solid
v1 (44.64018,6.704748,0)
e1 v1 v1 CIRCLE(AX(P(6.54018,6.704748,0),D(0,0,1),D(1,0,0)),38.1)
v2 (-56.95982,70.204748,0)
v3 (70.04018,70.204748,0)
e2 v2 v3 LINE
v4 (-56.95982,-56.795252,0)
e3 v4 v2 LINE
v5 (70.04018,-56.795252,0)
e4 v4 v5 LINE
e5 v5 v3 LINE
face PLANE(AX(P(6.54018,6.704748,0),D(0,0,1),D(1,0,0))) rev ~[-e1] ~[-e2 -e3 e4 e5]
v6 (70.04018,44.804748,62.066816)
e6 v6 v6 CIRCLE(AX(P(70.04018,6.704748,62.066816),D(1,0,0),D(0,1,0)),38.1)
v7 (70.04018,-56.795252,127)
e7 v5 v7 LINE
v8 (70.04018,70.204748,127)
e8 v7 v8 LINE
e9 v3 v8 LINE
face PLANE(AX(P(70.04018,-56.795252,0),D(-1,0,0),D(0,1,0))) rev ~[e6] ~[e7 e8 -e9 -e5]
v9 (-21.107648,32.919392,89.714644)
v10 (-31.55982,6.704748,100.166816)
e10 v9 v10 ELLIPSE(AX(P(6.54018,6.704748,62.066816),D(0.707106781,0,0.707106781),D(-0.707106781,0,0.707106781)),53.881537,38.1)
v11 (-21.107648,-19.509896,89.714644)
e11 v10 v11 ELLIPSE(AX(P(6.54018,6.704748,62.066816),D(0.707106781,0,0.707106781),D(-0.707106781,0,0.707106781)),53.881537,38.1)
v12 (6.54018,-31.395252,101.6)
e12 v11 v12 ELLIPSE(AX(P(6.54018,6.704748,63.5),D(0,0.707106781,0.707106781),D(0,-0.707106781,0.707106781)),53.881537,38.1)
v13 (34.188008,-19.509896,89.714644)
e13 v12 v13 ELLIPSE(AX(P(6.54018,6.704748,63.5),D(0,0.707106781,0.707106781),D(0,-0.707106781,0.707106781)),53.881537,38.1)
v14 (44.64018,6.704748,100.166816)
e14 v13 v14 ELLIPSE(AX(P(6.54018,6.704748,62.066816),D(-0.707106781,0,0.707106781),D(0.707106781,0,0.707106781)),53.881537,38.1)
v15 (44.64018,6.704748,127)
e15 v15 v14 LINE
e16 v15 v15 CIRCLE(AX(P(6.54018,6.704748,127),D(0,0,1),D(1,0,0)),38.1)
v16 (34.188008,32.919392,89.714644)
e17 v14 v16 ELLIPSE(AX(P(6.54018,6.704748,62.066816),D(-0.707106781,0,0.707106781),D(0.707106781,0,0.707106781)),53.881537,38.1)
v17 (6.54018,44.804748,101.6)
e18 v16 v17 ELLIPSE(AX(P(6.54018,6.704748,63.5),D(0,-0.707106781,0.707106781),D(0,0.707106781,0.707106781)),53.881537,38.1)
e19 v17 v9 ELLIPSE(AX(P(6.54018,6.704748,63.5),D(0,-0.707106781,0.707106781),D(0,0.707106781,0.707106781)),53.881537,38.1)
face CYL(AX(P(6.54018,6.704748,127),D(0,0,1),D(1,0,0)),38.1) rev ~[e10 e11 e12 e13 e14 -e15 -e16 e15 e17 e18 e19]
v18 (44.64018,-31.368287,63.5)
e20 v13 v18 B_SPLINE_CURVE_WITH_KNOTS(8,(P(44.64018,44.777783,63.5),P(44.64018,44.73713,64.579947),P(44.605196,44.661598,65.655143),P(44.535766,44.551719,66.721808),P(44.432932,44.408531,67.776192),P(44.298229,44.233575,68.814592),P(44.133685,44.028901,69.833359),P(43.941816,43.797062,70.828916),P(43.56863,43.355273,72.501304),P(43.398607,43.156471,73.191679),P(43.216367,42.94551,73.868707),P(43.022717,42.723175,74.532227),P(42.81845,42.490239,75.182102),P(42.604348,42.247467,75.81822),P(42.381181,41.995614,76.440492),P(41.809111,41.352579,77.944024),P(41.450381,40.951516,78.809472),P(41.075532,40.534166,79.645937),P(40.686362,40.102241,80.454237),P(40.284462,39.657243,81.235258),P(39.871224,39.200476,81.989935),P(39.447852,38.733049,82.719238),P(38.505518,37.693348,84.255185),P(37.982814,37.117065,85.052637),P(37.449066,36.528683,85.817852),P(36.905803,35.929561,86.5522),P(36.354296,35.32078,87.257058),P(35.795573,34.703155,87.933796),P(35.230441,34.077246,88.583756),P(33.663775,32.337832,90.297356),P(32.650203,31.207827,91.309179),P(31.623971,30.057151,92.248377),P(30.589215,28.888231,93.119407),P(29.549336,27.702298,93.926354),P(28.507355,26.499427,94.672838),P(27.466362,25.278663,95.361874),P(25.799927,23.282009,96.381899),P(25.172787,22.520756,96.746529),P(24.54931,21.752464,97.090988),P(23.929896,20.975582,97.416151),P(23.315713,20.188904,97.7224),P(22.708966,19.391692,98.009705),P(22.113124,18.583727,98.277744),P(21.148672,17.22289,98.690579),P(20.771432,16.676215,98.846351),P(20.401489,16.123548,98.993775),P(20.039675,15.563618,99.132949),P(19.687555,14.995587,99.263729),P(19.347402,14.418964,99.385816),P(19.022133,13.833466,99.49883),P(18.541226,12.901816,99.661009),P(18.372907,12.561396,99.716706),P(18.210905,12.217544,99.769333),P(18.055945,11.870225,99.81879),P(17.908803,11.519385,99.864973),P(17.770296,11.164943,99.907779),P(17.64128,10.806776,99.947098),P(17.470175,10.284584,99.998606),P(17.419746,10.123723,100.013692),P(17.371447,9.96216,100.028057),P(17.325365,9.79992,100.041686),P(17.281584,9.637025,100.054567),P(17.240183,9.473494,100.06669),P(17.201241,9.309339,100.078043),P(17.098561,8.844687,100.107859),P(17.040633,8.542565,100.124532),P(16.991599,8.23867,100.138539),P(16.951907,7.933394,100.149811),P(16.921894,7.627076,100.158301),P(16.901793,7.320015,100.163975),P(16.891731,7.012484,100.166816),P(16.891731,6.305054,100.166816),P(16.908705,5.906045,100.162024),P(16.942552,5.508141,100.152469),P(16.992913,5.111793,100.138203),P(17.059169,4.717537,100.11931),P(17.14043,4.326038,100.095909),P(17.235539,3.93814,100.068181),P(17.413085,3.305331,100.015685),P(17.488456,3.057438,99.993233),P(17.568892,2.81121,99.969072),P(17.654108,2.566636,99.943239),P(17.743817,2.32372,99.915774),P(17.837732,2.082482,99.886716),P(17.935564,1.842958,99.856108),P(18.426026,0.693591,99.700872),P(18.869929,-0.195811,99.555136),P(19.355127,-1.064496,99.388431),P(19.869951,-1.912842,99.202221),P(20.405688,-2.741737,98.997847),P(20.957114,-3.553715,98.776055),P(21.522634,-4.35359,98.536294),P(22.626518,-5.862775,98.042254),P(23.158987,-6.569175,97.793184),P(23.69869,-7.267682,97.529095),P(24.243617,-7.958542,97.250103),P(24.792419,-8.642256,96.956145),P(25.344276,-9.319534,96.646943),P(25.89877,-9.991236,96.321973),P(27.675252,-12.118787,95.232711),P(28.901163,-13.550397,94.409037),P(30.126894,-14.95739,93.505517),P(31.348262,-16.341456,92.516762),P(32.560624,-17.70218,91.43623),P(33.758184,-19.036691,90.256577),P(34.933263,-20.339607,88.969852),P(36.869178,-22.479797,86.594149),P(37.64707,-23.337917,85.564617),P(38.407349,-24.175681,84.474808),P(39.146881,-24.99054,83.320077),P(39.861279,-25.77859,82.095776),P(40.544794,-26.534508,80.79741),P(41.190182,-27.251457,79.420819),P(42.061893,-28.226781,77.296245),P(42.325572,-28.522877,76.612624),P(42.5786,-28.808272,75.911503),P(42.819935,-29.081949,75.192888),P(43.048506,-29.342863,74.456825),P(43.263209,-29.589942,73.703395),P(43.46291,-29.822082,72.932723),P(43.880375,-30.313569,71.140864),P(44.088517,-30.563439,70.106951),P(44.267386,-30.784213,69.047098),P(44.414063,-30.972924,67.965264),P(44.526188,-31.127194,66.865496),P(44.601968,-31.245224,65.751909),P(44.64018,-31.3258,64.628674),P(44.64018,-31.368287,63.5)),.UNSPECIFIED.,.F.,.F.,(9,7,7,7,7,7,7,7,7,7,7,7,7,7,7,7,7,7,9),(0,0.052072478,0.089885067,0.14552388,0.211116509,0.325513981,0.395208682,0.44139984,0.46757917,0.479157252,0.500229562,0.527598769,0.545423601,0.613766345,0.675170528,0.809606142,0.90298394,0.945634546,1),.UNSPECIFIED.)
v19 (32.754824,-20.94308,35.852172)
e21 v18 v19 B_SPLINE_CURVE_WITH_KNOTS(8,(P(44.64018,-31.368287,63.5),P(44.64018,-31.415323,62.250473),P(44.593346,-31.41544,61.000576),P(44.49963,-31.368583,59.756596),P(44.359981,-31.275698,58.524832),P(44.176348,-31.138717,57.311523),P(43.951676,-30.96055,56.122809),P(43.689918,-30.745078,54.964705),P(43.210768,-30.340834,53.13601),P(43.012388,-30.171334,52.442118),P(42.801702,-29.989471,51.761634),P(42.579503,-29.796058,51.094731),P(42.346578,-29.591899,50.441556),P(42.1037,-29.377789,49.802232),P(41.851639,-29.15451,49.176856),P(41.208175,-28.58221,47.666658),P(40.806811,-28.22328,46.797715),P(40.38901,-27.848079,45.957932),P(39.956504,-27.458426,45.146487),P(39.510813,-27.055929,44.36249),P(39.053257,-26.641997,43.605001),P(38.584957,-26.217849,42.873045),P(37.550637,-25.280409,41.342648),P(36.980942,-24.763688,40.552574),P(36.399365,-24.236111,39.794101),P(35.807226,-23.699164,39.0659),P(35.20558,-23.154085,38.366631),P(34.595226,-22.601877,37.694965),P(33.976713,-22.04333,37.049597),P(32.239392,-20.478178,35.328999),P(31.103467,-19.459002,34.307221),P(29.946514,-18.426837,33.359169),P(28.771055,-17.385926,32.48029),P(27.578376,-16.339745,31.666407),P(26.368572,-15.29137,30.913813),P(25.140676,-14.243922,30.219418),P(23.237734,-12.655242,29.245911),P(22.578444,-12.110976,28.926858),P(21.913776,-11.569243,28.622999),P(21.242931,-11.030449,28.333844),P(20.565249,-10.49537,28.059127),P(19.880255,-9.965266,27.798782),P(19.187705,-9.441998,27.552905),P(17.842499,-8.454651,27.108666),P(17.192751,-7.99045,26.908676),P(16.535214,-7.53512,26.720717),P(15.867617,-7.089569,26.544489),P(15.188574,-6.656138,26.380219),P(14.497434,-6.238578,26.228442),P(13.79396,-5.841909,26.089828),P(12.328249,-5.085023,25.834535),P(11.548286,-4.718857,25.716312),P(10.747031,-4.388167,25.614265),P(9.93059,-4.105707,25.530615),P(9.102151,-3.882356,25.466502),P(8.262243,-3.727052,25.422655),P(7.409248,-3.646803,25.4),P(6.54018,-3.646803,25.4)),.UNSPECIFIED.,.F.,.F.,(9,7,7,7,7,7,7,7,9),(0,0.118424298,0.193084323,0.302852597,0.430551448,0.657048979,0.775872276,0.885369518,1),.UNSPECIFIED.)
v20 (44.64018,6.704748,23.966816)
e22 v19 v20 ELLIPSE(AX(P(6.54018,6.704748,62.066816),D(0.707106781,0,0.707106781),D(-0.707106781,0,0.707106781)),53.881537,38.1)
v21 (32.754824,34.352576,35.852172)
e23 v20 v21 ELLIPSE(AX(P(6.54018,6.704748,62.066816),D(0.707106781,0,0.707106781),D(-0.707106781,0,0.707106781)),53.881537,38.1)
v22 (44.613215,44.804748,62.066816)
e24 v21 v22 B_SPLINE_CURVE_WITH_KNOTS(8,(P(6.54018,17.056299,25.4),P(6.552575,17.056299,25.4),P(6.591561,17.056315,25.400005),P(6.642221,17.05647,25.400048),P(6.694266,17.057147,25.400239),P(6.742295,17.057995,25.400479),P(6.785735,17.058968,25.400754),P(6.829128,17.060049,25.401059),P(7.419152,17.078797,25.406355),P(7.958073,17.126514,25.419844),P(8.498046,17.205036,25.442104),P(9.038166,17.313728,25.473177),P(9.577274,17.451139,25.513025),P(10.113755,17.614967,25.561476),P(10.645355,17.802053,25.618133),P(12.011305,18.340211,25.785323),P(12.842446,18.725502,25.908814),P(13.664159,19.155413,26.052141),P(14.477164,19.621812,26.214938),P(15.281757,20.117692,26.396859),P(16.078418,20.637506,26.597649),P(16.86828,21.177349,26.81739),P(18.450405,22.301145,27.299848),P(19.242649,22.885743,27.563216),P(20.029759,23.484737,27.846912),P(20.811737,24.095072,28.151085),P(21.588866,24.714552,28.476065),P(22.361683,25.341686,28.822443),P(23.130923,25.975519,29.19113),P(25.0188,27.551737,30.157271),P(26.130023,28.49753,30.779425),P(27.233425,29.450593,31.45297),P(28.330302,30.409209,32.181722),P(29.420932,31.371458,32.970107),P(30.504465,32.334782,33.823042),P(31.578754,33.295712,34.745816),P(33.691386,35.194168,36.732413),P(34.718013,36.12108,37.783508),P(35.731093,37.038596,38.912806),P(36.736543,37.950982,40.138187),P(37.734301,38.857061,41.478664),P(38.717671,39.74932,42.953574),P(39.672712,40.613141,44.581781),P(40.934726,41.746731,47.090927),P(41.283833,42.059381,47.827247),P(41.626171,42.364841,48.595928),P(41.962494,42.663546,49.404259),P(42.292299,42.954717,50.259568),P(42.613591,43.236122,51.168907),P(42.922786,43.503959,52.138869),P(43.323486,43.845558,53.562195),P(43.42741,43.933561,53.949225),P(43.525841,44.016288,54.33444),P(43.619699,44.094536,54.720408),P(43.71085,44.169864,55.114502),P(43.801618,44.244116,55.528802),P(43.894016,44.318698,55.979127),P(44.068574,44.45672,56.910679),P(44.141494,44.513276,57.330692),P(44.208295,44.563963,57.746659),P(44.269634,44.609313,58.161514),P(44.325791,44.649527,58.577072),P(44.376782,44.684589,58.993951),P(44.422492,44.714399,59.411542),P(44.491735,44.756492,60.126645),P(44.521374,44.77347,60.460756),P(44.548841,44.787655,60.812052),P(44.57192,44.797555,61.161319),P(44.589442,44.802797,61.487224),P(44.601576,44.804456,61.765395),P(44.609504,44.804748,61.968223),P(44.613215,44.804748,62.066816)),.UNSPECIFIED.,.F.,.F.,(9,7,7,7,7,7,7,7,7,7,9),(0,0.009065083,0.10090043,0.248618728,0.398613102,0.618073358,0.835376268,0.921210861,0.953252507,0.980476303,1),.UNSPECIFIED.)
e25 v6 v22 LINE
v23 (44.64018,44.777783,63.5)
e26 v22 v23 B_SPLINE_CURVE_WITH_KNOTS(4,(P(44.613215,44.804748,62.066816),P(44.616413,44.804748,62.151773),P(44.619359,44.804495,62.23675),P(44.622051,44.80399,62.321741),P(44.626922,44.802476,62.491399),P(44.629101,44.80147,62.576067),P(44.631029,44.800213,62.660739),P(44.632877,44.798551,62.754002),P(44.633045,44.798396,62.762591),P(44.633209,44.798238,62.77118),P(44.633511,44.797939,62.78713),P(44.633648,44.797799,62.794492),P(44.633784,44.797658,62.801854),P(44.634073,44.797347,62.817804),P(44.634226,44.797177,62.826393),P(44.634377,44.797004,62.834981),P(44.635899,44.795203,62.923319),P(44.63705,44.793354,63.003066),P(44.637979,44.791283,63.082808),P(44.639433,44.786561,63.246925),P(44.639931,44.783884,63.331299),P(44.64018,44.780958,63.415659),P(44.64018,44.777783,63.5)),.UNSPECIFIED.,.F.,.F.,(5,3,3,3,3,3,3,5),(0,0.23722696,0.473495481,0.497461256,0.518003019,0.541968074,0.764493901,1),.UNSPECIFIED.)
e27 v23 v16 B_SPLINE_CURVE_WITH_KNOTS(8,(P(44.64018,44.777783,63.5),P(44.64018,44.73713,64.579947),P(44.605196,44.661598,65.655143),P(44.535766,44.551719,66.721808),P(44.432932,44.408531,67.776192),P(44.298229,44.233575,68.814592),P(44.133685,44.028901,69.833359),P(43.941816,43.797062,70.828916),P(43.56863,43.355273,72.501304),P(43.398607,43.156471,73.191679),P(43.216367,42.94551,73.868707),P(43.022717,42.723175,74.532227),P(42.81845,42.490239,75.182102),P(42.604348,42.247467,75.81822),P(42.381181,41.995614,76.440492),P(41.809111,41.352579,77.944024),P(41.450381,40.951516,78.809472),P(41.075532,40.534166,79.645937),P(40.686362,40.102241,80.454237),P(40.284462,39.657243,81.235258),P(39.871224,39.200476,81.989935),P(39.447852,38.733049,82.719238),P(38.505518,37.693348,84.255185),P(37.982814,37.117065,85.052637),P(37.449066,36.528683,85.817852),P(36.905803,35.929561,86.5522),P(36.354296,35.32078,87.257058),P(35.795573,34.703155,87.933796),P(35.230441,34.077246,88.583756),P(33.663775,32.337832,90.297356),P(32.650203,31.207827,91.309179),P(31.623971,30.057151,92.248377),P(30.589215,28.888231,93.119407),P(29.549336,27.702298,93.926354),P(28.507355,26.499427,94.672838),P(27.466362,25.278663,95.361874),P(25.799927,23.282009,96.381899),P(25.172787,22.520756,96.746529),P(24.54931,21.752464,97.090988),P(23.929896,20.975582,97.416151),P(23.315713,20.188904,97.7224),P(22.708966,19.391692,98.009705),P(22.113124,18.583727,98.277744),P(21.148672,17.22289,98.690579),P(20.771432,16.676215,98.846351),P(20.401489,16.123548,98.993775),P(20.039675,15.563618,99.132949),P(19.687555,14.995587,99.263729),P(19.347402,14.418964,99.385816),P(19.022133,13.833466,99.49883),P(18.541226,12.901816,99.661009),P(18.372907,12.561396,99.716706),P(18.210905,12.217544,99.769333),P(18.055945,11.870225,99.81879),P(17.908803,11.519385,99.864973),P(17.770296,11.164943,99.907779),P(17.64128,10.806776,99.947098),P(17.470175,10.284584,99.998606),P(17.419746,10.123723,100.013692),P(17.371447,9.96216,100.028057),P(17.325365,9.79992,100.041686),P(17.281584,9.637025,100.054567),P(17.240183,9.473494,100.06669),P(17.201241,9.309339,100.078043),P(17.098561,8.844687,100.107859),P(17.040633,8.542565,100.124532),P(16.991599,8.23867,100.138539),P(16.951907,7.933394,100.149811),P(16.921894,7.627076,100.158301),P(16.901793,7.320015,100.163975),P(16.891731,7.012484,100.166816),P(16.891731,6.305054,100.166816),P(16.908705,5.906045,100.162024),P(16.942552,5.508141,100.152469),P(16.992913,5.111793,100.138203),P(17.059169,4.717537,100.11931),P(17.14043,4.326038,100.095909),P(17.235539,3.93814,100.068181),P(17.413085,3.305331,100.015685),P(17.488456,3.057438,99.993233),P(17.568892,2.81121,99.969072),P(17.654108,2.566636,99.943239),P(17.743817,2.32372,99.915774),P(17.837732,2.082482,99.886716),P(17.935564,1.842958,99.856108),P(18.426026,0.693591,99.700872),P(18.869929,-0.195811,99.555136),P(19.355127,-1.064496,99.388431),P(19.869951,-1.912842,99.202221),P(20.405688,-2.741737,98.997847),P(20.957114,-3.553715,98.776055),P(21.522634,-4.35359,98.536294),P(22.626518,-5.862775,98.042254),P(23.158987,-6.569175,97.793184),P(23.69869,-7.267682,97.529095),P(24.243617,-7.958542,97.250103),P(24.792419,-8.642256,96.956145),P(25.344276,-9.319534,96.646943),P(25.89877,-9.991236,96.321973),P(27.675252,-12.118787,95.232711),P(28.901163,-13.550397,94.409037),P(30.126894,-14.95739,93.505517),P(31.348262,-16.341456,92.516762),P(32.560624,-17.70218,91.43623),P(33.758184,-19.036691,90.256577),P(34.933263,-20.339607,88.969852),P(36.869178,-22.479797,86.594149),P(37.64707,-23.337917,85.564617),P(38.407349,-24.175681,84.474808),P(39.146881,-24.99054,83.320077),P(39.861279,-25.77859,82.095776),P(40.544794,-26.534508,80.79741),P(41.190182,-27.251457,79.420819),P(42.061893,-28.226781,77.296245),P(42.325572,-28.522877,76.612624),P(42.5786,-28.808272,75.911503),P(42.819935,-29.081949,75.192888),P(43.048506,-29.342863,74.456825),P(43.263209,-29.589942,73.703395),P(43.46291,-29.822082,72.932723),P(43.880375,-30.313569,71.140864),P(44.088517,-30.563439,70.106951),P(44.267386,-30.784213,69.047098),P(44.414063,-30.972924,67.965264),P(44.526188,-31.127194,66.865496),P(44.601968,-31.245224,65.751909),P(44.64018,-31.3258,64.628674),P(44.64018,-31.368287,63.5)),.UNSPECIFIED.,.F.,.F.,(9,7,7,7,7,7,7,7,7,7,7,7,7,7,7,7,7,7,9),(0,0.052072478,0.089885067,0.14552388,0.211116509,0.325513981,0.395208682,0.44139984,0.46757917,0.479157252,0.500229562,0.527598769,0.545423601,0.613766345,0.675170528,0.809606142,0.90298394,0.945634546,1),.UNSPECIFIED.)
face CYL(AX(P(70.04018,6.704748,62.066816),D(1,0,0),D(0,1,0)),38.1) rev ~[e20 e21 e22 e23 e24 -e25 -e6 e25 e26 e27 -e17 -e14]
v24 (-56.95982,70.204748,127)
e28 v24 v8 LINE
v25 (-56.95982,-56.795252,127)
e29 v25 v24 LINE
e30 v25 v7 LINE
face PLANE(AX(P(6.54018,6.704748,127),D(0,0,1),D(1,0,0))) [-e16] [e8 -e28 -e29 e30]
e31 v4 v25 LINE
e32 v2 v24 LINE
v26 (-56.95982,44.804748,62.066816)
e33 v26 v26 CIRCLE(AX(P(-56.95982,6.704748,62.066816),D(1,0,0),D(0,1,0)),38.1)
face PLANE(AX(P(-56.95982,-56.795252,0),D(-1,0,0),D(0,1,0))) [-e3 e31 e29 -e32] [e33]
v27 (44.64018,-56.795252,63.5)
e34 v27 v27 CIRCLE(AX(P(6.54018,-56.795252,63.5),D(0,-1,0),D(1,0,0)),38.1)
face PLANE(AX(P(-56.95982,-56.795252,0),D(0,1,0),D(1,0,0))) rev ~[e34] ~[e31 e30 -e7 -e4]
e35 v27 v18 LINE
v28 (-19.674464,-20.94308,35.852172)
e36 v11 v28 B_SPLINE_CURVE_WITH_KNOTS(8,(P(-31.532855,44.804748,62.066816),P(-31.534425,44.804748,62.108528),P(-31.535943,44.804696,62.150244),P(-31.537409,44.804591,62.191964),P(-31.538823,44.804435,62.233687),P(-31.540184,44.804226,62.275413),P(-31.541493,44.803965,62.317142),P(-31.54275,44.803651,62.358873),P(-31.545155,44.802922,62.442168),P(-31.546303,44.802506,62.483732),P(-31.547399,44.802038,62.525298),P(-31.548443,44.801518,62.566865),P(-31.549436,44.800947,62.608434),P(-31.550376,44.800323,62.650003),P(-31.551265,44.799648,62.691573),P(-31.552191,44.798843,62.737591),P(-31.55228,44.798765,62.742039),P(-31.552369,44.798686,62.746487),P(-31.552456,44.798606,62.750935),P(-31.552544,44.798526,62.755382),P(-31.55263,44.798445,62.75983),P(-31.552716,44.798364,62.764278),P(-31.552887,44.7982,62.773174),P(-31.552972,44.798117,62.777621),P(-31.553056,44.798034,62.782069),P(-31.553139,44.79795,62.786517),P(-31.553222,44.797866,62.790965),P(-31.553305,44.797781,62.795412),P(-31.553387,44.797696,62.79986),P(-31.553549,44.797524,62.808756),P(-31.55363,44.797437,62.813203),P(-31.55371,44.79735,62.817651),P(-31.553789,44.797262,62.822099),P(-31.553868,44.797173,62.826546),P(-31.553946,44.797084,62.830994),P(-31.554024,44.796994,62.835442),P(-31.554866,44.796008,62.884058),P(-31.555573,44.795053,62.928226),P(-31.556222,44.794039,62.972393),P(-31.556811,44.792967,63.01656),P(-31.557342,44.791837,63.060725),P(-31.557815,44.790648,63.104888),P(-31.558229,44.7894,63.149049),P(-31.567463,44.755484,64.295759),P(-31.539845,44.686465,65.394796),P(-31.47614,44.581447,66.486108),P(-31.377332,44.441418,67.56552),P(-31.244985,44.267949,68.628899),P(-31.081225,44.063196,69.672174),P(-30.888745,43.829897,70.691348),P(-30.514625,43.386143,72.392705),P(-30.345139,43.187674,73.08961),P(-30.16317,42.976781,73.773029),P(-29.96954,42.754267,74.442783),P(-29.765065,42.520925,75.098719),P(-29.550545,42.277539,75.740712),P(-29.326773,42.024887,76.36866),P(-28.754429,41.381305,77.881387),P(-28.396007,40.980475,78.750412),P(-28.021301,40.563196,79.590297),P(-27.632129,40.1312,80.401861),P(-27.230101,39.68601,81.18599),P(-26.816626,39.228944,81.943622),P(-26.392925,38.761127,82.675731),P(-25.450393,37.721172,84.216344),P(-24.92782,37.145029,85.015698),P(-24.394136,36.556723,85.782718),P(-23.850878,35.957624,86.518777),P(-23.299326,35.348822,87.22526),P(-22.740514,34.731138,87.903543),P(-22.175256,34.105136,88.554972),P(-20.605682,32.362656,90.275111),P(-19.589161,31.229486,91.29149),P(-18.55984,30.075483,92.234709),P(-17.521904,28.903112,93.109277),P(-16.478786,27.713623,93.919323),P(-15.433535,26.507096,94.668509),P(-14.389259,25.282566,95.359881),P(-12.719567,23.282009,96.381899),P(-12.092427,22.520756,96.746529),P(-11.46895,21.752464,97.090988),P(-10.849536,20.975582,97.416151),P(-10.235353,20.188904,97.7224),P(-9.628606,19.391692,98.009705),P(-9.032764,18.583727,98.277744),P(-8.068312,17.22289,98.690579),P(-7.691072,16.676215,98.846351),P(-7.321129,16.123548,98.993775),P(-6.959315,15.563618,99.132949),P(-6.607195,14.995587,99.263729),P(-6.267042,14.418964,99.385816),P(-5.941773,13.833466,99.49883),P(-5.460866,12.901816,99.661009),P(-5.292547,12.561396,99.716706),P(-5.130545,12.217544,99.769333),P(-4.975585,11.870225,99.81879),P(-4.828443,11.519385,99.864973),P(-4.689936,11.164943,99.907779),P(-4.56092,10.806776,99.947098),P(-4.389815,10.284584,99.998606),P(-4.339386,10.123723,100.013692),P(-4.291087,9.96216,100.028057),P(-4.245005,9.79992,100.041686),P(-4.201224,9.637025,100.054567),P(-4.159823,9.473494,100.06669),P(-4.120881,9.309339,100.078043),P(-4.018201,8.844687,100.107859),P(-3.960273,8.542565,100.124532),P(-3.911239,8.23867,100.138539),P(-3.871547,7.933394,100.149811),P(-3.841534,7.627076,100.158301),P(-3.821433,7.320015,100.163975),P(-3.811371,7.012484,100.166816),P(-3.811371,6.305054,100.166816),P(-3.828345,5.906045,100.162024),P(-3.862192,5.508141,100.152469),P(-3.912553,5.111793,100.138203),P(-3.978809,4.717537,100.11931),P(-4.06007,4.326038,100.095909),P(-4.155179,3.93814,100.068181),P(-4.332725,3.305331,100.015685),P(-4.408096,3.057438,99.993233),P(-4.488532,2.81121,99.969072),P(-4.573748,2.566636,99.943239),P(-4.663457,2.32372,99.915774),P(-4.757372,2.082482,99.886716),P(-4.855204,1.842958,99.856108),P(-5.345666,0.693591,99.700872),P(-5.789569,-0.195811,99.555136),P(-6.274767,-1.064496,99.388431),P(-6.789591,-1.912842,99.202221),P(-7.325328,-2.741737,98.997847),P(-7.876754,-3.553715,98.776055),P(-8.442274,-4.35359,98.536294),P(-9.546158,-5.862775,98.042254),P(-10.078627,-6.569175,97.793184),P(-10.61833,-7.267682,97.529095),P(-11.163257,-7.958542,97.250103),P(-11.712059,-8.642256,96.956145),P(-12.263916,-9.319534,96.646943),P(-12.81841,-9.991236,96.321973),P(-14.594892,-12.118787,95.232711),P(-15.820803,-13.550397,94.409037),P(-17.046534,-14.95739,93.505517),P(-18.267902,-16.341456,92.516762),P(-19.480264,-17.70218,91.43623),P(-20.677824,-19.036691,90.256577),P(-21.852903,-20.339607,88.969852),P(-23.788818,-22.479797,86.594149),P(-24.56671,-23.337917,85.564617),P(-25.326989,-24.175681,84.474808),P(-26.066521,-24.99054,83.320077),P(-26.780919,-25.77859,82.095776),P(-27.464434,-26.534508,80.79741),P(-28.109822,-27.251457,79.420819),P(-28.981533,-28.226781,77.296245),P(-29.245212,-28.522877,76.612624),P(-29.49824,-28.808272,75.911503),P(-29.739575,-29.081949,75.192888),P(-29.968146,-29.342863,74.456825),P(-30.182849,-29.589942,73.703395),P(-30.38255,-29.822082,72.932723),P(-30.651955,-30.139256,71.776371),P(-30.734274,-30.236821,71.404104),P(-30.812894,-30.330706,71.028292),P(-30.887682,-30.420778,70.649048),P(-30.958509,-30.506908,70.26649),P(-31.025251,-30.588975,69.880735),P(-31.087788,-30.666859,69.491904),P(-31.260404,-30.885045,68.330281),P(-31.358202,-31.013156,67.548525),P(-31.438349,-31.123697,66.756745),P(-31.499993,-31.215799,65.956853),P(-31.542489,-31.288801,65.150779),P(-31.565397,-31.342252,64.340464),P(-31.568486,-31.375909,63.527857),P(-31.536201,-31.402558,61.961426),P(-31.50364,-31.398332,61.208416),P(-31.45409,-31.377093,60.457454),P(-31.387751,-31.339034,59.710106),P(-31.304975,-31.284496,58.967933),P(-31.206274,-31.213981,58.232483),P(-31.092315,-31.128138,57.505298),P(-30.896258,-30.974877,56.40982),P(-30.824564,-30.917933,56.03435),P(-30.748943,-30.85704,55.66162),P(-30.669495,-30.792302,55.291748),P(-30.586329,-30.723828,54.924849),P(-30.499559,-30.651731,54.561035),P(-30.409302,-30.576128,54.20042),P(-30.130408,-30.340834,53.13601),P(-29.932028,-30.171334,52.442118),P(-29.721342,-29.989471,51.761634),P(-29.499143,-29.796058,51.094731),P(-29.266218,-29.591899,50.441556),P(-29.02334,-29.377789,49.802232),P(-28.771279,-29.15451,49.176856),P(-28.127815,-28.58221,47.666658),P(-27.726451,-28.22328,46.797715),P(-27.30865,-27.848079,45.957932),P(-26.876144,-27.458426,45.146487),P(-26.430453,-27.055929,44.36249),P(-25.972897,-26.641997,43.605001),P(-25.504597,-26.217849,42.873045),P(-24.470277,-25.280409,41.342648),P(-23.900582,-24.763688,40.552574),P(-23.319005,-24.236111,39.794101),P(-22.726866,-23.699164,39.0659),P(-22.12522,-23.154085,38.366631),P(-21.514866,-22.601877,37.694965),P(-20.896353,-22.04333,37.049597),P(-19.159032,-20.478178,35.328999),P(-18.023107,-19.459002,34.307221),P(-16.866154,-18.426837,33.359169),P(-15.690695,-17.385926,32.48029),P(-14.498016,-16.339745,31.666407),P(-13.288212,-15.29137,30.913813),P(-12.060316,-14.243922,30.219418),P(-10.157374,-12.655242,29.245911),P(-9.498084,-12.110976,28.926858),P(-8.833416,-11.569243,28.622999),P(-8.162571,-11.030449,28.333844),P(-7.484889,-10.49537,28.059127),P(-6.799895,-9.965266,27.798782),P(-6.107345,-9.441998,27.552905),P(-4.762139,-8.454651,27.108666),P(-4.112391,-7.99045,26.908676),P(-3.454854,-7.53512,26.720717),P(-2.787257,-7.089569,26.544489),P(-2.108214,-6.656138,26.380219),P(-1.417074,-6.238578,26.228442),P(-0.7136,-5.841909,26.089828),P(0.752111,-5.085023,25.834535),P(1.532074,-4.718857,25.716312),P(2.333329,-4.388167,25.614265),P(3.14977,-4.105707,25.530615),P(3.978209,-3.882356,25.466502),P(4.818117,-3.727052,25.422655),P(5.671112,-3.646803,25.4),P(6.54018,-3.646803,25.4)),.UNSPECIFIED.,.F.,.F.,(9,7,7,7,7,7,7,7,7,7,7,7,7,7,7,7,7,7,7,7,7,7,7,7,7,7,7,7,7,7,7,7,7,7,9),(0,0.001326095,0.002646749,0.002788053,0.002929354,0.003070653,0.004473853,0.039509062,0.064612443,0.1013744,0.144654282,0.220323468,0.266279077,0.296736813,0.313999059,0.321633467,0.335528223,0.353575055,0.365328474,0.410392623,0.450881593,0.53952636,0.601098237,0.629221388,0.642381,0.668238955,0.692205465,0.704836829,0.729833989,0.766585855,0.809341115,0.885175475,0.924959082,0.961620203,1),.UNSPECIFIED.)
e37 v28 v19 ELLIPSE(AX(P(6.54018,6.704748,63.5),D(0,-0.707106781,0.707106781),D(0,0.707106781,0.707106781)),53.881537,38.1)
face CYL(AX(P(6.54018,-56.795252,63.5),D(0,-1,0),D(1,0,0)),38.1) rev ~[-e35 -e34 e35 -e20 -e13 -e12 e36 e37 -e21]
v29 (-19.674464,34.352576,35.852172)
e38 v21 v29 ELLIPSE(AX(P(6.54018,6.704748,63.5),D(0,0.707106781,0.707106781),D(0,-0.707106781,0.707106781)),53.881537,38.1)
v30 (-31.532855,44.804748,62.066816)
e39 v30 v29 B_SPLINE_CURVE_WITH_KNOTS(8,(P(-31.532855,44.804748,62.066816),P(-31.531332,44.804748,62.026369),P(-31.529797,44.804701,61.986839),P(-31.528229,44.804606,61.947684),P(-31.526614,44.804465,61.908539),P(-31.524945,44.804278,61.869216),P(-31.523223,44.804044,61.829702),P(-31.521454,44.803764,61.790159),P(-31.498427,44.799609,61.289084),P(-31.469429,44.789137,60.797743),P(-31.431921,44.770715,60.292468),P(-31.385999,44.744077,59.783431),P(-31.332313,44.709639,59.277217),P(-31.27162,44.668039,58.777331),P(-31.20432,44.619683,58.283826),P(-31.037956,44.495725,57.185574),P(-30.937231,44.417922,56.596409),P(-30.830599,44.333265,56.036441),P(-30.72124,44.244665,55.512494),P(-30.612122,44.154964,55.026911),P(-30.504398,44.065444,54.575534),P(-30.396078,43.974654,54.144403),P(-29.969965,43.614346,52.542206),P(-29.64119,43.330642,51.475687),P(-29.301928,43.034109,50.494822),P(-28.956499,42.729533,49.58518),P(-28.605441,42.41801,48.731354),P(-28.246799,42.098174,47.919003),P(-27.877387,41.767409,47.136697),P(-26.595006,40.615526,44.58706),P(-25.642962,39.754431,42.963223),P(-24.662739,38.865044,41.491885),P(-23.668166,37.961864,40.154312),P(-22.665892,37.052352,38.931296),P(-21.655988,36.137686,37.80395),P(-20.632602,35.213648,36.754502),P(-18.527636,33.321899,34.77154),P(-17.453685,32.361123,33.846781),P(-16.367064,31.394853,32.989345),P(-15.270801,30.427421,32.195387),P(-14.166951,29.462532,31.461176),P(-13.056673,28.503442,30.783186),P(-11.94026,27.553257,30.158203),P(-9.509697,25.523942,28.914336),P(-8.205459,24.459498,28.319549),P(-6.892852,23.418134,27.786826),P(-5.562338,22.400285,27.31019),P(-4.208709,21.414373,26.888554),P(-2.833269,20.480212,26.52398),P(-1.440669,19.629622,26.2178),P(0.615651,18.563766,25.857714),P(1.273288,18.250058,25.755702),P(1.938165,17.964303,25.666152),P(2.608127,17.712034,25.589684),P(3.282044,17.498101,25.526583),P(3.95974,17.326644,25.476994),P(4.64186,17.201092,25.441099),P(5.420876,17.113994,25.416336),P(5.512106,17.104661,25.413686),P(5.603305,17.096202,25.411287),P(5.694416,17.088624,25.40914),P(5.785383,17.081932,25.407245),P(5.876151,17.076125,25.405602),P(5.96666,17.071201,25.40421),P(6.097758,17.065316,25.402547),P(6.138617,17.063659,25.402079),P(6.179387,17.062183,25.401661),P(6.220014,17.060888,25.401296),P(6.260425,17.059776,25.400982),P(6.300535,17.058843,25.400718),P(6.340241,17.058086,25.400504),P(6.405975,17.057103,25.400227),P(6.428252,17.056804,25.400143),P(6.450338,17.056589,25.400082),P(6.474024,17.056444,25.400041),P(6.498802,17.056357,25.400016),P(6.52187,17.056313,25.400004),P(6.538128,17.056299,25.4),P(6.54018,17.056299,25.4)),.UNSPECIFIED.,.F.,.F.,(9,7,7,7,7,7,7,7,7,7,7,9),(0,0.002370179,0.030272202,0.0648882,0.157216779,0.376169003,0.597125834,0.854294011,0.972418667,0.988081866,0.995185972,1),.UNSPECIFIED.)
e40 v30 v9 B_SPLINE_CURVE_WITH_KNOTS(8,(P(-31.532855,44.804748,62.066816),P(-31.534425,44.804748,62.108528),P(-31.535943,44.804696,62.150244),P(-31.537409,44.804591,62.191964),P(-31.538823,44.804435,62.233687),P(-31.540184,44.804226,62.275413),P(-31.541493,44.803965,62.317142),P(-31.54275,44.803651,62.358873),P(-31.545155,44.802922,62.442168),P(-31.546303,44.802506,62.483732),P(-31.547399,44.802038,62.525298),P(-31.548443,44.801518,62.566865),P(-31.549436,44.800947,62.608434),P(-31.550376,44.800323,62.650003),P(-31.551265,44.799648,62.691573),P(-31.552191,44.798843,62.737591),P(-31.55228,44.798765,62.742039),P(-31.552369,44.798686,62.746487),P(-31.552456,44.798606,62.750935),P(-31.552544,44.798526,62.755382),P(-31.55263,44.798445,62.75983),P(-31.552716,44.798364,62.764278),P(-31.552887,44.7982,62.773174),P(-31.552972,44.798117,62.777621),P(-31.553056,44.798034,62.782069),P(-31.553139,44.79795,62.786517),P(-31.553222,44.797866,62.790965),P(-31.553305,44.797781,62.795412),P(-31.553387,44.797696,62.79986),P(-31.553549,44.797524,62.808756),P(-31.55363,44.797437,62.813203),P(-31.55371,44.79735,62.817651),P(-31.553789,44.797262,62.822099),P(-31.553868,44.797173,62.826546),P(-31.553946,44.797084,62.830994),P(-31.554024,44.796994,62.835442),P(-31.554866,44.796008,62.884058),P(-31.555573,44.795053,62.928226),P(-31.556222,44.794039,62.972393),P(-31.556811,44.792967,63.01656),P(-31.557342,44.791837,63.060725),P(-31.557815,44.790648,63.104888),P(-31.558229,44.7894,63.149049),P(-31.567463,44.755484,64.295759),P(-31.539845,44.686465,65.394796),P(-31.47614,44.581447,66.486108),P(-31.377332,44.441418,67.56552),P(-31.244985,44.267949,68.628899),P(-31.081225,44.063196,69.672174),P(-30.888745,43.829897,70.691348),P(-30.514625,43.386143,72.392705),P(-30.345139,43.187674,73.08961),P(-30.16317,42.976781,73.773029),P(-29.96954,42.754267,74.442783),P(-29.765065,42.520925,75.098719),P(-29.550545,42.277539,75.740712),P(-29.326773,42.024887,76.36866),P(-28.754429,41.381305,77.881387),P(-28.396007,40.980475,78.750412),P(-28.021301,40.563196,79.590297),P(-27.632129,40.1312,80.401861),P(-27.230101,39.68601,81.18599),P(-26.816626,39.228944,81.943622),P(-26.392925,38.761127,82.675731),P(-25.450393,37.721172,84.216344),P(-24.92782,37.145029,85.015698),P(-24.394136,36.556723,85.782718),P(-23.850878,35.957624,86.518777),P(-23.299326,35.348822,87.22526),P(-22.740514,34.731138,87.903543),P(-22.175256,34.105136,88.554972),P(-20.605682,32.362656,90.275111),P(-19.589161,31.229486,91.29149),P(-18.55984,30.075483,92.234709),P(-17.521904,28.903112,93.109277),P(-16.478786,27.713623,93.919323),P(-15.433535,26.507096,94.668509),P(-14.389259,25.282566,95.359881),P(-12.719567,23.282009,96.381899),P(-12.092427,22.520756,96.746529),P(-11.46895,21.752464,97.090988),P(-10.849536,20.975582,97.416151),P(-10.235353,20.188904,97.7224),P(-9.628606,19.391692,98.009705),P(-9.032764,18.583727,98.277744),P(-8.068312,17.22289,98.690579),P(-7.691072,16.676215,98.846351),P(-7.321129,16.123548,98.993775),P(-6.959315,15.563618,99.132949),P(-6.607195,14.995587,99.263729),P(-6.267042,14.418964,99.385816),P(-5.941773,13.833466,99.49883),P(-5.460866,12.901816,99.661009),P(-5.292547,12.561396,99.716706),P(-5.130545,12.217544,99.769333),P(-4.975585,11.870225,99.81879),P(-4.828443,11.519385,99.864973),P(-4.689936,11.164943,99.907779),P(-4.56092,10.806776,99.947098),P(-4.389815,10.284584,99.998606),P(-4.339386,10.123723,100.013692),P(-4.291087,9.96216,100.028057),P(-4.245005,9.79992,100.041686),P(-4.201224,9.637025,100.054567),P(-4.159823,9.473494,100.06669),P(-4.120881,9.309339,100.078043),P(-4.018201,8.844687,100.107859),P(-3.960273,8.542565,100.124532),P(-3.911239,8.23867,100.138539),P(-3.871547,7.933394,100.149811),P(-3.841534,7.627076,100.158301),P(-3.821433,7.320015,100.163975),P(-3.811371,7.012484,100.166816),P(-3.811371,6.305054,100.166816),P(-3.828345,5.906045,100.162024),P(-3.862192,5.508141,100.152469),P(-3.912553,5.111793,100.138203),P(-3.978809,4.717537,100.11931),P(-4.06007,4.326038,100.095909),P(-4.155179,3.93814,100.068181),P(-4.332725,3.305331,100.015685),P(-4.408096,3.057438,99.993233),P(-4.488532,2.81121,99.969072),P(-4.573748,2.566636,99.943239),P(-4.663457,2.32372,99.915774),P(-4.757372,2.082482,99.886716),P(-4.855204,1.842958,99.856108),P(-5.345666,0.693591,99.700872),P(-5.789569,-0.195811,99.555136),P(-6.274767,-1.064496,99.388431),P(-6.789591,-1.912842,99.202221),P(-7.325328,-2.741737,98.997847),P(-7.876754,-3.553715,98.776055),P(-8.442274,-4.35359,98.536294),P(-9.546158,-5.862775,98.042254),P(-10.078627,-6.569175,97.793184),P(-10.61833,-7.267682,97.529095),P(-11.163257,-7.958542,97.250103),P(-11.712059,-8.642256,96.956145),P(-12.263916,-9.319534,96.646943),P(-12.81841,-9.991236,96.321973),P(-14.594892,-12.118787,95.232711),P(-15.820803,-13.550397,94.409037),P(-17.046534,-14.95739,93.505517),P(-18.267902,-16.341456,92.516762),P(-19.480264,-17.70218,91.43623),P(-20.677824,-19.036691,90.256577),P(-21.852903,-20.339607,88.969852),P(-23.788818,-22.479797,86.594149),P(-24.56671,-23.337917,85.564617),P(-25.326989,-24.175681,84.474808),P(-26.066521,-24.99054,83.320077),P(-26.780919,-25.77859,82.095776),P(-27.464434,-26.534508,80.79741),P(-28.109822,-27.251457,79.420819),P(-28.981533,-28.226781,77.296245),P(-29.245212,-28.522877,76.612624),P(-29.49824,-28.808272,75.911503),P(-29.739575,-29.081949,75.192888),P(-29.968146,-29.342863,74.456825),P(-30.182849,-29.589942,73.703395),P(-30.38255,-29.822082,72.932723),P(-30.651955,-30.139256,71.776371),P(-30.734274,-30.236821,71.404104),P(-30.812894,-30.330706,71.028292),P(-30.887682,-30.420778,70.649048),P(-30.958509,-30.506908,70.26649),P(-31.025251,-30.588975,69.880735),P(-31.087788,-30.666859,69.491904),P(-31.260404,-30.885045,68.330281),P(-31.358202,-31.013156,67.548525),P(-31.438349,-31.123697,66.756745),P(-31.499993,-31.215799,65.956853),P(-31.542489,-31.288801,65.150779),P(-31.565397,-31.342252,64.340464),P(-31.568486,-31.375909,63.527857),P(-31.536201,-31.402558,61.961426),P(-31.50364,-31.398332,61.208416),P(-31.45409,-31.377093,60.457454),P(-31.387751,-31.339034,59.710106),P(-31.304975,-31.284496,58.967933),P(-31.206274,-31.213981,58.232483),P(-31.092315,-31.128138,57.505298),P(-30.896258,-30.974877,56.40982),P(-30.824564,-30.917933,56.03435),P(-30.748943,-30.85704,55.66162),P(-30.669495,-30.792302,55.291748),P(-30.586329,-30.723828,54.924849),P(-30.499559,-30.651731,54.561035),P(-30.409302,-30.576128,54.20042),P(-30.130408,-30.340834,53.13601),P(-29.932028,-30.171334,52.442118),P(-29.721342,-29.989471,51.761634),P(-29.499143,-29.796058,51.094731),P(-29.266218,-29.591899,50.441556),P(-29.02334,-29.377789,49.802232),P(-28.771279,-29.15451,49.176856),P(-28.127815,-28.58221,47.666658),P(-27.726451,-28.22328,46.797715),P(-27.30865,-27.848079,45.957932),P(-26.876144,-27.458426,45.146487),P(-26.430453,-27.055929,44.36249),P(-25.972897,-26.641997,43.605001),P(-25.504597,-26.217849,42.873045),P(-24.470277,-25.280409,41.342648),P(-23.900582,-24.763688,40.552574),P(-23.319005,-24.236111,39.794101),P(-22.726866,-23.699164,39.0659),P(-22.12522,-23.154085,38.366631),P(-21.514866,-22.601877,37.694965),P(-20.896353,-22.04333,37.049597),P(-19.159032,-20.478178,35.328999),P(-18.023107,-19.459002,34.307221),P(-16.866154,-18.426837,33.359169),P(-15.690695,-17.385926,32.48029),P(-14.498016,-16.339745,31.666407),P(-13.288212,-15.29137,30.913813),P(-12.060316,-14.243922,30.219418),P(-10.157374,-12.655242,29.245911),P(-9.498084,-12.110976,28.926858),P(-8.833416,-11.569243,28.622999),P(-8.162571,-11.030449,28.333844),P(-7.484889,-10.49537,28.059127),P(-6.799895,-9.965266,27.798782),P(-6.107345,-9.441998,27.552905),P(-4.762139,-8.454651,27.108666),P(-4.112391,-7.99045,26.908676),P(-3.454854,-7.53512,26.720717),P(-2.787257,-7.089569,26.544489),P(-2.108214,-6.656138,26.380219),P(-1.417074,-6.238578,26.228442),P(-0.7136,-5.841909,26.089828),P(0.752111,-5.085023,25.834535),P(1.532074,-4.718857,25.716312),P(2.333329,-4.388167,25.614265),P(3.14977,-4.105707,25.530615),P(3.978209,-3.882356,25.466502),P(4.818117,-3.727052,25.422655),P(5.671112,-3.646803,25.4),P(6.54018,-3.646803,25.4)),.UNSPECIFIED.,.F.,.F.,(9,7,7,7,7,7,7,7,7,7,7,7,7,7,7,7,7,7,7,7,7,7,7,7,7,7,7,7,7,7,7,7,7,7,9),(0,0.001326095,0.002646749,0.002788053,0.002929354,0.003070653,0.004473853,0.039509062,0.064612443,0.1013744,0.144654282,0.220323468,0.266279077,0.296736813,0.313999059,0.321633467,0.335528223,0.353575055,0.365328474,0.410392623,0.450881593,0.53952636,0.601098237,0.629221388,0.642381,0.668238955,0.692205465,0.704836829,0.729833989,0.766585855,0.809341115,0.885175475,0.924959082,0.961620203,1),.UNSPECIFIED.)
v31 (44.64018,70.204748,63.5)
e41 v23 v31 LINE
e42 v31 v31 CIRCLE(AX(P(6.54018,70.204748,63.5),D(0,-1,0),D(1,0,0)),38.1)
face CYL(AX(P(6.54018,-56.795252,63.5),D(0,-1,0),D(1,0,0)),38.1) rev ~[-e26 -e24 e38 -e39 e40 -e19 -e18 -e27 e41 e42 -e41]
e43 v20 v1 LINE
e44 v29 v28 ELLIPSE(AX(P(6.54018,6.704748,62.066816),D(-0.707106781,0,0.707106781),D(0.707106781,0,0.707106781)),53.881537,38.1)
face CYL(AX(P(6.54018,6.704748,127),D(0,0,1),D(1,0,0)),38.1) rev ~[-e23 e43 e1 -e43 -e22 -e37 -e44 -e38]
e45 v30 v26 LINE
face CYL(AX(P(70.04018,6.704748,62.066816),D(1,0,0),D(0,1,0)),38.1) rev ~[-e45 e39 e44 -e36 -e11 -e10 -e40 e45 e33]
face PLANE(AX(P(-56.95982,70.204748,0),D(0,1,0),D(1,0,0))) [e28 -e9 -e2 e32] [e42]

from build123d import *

# Parameters (mm, degrees)
F0_W     = 127
F0_H     = 127
F1_DEPTH = 127
F2_R     = 38.1
F3_DEPTH = 127.001
F4_R     = 38.1
F5_DEPTH = 127.001
F6_R     = 38.1
F7_DEPTH = 127.001


with BuildPart() as f1:
    # F0 (on Top) → F1 (new body)
    with BuildSketch(Plane.XY):
        with Locations((6.54018, 6.704748)):
            Rectangle(F0_W, F0_H)
    extrude(amount=F1_DEPTH)

    # F2 (on face) → F3 (cut, through all)
    with BuildSketch(Plane.XY.offset(127)):
        with Locations((6.54018, 6.704748)):
            Circle(F2_R)
    extrude(amount=-F3_DEPTH, mode=Mode.SUBTRACT)

    # F4 (on face) → F5 (cut, through all)
    with BuildSketch(Plane.YZ.offset(70.04018)):
        with Locations((6.704748, 62.066816)):
            Circle(F4_R)
    extrude(amount=-F5_DEPTH, mode=Mode.SUBTRACT)

    # F6 (on face) → F7 (cut, through all)
    with BuildSketch(Plane.XZ.offset(56.795252)):
        with Locations((6.54018, 63.5)):
            Circle(F6_R)
    extrude(amount=-F7_DEPTH, mode=Mode.SUBTRACT)


solid = f1.part
